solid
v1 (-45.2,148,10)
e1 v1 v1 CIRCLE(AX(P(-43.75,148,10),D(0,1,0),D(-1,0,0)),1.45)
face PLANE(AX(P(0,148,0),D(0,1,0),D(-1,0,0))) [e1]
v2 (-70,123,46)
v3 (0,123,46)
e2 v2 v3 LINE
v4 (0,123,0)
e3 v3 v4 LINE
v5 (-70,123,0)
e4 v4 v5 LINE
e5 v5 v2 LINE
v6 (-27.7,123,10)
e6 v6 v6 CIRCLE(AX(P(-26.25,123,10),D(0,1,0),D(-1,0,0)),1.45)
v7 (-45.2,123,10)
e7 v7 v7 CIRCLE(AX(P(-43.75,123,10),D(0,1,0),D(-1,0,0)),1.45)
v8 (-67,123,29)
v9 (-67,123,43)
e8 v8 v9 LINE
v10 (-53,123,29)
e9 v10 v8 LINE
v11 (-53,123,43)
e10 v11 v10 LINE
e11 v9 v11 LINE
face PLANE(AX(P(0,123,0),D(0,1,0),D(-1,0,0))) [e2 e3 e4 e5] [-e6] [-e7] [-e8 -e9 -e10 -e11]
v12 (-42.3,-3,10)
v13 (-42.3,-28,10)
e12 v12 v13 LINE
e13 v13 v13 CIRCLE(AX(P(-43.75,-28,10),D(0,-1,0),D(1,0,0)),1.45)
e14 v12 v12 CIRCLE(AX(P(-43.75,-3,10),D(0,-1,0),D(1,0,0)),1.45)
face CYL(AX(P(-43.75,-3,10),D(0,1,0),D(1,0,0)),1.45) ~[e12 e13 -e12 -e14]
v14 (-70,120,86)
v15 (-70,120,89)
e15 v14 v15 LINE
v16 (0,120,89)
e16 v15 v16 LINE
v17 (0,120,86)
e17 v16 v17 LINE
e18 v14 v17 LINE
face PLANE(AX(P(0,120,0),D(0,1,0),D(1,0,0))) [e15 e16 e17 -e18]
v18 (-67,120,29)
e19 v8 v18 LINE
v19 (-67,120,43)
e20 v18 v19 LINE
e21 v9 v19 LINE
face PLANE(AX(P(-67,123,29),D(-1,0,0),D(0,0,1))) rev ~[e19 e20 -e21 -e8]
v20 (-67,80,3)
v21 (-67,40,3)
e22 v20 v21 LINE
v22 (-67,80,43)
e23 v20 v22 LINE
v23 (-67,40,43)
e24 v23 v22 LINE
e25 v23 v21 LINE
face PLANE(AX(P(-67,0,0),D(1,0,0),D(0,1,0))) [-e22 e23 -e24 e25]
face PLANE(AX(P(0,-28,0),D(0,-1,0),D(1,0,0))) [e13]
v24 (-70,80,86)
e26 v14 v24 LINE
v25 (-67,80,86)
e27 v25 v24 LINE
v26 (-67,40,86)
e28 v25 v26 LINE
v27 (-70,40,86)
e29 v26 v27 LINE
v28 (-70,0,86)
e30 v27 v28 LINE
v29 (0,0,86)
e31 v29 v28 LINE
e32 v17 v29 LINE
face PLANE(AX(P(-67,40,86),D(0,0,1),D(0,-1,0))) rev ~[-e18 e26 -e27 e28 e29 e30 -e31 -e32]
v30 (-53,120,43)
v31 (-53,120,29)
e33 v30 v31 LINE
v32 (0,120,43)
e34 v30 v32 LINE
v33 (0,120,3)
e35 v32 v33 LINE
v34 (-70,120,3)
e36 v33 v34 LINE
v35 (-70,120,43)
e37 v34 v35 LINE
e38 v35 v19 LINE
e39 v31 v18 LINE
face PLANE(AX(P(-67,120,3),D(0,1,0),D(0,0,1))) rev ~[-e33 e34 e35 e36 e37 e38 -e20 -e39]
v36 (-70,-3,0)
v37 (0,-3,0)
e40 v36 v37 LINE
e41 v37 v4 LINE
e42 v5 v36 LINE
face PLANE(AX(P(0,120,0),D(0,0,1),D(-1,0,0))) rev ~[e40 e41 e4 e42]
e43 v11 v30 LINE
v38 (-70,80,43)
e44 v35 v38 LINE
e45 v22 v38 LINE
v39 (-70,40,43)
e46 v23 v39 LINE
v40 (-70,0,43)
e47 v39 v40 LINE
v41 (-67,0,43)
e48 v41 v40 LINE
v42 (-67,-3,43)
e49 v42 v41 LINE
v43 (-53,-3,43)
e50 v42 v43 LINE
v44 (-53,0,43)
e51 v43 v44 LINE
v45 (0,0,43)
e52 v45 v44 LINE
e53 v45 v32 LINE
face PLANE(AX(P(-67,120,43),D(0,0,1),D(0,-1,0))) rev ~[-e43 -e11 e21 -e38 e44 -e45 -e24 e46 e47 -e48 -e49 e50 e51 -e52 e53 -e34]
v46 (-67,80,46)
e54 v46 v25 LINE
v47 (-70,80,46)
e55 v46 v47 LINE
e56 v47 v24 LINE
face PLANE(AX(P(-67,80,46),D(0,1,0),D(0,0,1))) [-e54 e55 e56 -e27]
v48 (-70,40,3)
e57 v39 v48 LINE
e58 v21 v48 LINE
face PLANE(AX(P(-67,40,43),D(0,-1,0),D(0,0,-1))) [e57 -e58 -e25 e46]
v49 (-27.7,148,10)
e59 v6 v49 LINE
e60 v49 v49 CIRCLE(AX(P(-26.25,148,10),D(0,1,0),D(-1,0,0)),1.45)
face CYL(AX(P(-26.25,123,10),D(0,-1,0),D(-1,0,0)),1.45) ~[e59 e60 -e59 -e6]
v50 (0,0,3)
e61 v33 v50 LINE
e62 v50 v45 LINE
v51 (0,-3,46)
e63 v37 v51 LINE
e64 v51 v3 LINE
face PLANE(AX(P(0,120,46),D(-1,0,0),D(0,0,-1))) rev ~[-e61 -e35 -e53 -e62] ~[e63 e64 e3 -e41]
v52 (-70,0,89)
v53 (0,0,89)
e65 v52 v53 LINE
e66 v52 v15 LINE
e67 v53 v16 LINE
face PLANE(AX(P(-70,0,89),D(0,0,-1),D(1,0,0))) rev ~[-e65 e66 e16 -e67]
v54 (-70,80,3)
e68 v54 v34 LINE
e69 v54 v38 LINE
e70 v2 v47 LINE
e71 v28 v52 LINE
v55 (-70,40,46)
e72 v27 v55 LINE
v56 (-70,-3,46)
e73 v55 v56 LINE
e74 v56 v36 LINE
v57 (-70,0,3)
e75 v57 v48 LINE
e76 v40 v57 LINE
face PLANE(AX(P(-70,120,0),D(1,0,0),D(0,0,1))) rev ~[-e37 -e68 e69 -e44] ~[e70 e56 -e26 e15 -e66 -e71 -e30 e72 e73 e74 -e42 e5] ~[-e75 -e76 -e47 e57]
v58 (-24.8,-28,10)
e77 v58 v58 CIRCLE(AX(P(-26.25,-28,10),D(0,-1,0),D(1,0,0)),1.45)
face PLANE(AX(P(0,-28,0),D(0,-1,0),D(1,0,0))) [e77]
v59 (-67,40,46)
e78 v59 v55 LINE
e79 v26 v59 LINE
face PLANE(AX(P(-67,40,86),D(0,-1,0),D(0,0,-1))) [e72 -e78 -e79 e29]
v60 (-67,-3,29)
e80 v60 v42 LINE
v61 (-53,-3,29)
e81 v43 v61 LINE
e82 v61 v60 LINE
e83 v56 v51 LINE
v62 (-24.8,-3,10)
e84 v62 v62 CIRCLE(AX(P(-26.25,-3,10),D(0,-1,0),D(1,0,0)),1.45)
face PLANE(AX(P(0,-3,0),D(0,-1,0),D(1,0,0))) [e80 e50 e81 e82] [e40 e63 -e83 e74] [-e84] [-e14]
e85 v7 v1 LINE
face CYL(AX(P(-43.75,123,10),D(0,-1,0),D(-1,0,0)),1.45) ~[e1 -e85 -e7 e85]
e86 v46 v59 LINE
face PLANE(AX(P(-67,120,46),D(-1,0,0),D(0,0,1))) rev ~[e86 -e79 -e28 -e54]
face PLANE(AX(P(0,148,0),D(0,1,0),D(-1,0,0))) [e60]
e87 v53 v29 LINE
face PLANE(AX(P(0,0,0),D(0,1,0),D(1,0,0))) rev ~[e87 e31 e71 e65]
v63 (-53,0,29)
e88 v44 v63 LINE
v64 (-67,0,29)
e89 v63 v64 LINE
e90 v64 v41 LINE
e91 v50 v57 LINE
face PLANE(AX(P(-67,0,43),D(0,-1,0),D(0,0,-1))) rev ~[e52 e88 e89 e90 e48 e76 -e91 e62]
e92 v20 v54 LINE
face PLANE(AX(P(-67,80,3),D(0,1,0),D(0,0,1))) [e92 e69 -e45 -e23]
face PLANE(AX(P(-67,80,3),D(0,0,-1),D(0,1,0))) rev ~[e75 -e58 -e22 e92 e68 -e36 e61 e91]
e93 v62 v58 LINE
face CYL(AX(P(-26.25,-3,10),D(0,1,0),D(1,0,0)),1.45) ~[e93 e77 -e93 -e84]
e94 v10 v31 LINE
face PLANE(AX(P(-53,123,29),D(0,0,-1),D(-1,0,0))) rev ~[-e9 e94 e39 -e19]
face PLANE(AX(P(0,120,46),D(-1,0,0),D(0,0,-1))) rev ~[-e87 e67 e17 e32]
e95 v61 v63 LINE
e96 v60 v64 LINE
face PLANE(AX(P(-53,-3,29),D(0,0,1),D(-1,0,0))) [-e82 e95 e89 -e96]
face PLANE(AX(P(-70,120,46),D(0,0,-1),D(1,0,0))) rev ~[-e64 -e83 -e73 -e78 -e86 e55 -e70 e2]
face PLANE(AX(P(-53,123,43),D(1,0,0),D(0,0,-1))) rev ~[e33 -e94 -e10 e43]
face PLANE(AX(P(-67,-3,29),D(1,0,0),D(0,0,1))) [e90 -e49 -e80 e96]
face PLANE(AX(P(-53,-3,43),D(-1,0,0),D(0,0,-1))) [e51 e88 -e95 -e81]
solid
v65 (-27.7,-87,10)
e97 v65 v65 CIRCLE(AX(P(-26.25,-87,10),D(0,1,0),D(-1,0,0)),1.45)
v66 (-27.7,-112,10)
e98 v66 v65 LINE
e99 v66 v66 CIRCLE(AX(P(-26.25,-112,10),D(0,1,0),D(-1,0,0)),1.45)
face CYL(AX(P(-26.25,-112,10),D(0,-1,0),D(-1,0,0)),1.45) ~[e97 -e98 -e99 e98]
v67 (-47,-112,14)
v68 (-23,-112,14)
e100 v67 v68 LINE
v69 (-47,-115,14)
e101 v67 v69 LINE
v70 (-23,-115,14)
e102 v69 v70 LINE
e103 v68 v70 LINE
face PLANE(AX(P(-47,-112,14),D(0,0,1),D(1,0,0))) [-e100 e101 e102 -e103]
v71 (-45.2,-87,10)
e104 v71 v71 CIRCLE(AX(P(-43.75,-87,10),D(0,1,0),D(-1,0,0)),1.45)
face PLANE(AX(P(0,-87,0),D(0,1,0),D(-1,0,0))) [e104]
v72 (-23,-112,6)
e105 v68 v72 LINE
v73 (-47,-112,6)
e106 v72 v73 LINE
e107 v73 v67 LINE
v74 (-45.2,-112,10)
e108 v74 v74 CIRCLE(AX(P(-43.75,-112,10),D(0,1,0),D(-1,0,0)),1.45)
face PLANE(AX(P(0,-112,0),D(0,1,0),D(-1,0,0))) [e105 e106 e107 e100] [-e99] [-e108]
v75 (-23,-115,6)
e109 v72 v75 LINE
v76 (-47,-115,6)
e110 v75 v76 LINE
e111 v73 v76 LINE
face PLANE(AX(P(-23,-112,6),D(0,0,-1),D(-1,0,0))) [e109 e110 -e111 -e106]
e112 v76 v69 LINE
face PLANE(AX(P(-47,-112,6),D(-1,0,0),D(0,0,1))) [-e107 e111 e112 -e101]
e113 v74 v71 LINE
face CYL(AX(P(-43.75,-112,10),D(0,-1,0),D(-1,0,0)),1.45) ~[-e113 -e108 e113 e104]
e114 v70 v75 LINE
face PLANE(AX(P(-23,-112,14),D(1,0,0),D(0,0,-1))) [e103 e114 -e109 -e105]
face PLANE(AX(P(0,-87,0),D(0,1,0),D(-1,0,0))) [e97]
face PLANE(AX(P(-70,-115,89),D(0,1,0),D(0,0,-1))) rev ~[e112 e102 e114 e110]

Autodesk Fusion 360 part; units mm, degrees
sketch "Sketch1" plane through (0, 0, 0) normal (0, 1, 0) x (1, 0, 0) in component "Frame"
  line L0 (0, 0) -> (-70, 0)
  line L1 (-70, 0) -> (-70, -89)
  line L2 (-70, -89) -> (0, -89)
  line L3 (0, -89) -> (0, 0)
  dimension "d1" = 70
  dimension "d2" = 89
extrude "Extrude1" add sketch "Sketch1" along normal blind 120 makes body 1 in component "Frame"
sketch "Sketch2" plane through (0, 0, 0) normal (0, -1, 0) x (1, 0, 0) in component "Frame"
  line L0 (0, 0) -> (0, 89)
  line L1 (0, 89) -> (-70, 89)
  line L2 (-70, 89) -> (-70, 0)
  line L3 (-70, 0) -> (0, 0)
  line L4 (0, 0) -> (-70, 0)
  line L5 (-70, 0) -> (-70, 46)
  line L6 (-70, 46) -> (0, 46)
  line L7 (0, 46) -> (0, 0)
  dimension "d5" = 70
  dimension "d6" = 46
extrude "Extrude2" add sketch "Sketch2" along normal blind 3 contours L0 L2 L3 L4 L5 L6 L7 bodies 1 in component "Frame"
sketch "Sketch3" plane through (0, 120, 0) normal (0, 1, 0) x (-1, 0, 0) in component "Frame"
  line L0 (0, 89) -> (0, 0)
  line L1 (0, 0) -> (70, 0)
  line L2 (70, 0) -> (70, 89)
  line L3 (70, 89) -> (0, 89)
  line L4 (0, 0) -> (70, 0)
  line L5 (70, 0) -> (70, 46)
  line L6 (70, 46) -> (0, 46)
  line L7 (0, 46) -> (0, 0)
  dimension "d9" = 70
  dimension "d10" = 46
extrude "Extrude3" add sketch "Sketch3" along normal blind 3 contours L0 L1 L2 L4 L5 L6 L7 bodies 1 in component "Frame"
sketch "Sketch4" plane through (0, 120, 0) normal (0, 1, 0) x (-1, 0, 0) in component "Frame"
  line L0 (0, 46) -> (70, 46)
  line L1 (70, 46) -> (70, 89)
  line L2 (70, 89) -> (0, 89)
  line L3 (0, 89) -> (0, 46)
  line L4 (0, 46) -> (67, 46)
  line L5 (67, 46) -> (67, 86)
  line L6 (67, 86) -> (0, 86)
  line L7 (0, 86) -> (0, 46)
  dimension "d13" = 67
  dimension "d14" = 40
extrude "Extrude4" cut sketch "Sketch4" against normal up to surface (120 mm away) contours L0 L3 L4 L5 L6 L7 bodies 1 in component "Frame"
sketch "Sketch5" plane through (0, 0, 0) normal (1, 0, 0) x (0, 1, 0) in component "Frame"
  line L0 (123, 46) -> (-3, 46)
  line L1 (-3, 46) -> (-3, 0)
  line L2 (-3, 0) -> (123, 0)
  line L3 (123, 0) -> (123, 46)
  line L4 (120, 3) -> (0, 3)
  line L5 (0, 3) -> (0, 43)
  line L6 (0, 43) -> (120, 43)
  line L7 (120, 43) -> (120, 3)
  dimension "d17" = 120
extrude "Extrude5" cut sketch "Sketch5" against normal blind 67 contours L4 L5 L6 L7 bodies 1 in component "Frame"
sketch "Sketch6" plane through (-67, 0, 0) normal (1, 0, 0) x (0, 1, 0) in component "Frame"
  line L0 (120, 43) -> (0, 43)
  line L1 (0, 43) -> (0, 3)
  line L2 (0, 3) -> (120, 3)
  line L3 (120, 3) -> (120, 43)
  line L4 (0, 43) -> (40, 43)
  line L5 (40, 43) -> (40, 3)
  line L6 (40, 3) -> (0, 3)
  line L7 (0, 3) -> (0, 43)
  dimension "d20" = 40
  dimension "d21" = 40
extrude "Extrude6" cut sketch "Sketch6" against normal blind 3 contours L0 L1 L2 L4 L5 L6 L7 bodies 1 in component "Frame"
sketch "Sketch7" plane through (-67, 0, 0) normal (1, 0, 0) x (0, 1, 0) in component "Frame"
  line L0 (40, 43) -> (40, 3)
  line L1 (40, 3) -> (120, 3)
  line L2 (120, 3) -> (120, 43)
  line L3 (120, 43) -> (40, 43)
  line L4 (120, 3) -> (80, 3)
  line L5 (80, 3) -> (80, 43)
  line L6 (80, 43) -> (120, 43)
  line L7 (120, 43) -> (120, 3)
  dimension "d24" = 40
  dimension "d25" = 40
extrude "Extrude7" cut sketch "Sketch7" against normal blind 3 contours L1 L2 L3 L4 L5 L6 L7 bodies 1 in component "Frame"
sketch "Sketch8" plane through (-67, 0, 0) normal (1, 0, 0) x (0, 1, 0) in component "Frame"
  line L0 (0, 86) -> (0, 46)
  line L1 (0, 46) -> (120, 46)
  line L2 (120, 46) -> (120, 86)
  line L3 (120, 86) -> (0, 86)
  line L4 (0, 86) -> (40, 86)
  line L5 (40, 86) -> (40, 46)
  line L6 (40, 46) -> (0, 46)
  line L7 (0, 46) -> (0, 86)
  dimension "d28" = 40
  dimension "d29" = 40
extrude "Extrude8" cut sketch "Sketch8" against normal blind 3 contours L0 L1 L3 L4 L5 L6 L7 bodies 1 in component "Frame"
sketch "Sketch9" plane through (-67, 0, 0) normal (1, 0, 0) x (0, 1, 0) in component "Frame"
  line L0 (40, 86) -> (40, 46)
  line L1 (40, 46) -> (120, 46)
  line L2 (120, 46) -> (120, 86)
  line L3 (120, 86) -> (40, 86)
  line L4 (120, 46) -> (80, 46)
  line L5 (80, 46) -> (80, 86)
  line L6 (80, 86) -> (120, 86)
  line L7 (120, 86) -> (120, 46)
  dimension "d32" = 40
  dimension "d33" = 40
extrude "Extrude9" cut sketch "Sketch9" against normal blind 3 contours L1 L2 L3 L4 L5 L6 L7 bodies 1 in component "Frame"
sketch "Sketch10" plane through (0, -3, 0) normal (0, -1, 0) x (1, 0, 0) in component "Frame"
  line L0 (0, 46) -> (-70, 46)
  line L1 (-70, 46) -> (-70, 0)
  line L2 (-70, 0) -> (0, 0)
  line L3 (0, 0) -> (0, 46)
  line L4 (0, 0) -> (-26.25, 0) construction
  line L5 (-26.25, 0) -> (-26.25, 10) construction
  line L6 (-26.25, 10) -> (-43.75, 10) construction
  line L7 (-43.75, 10) -> (-43.75, 0) construction
  line L8 (-43.75, 0) -> (-70, 0) construction
  circle A0 centre (-43.75, 10) radius 1.45
  circle A1 centre (-26.25, 10) radius 1.45
  dimension "d36" = 26.25
  dimension "d37" = 10
  dimension "d38" = 17.5
  dimension "d39" = 2.9
  dimension "d40" = 2.9
extrude "Extrude10" add sketch "Sketch10" along normal blind 25 contours A0 | A1 bodies 1 in component "Frame"
sketch "Sketch11" plane through (0, -3, 0) normal (0, -1, 0) x (1, 0, 0) in component "Frame"
  circle A0 centre (-26.25, 10) radius 1.45
  circle A1 centre (-43.75, 10) radius 1.45
  line L0 (0, 46) -> (-70, 46)
  line L1 (-70, 46) -> (-70, 0)
  line L2 (-70, 0) -> (0, 0)
  line L3 (0, 0) -> (0, 46)
  line L4 (-70, 46) -> (-67, 46) construction
  line L5 (-67, 46) -> (-67, 43) construction
  line L6 (-67, 43) -> (-53, 43)
  line L7 (-53, 43) -> (-53, 29)
  line L8 (-53, 29) -> (-67, 29)
  line L9 (-67, 29) -> (-67, 43)
  dimension "d43" = 3
extrude "Extrude11" cut sketch "Sketch11" against normal blind 3 contours L6 L7 L8 L9 bodies 1 in component "Frame"
sketch "Sketch12" plane through (0, 123, 0) normal (0, 1, 0) x (-1, 0, 0) in component "Frame"
  line L0 (0, 46) -> (0, 0)
  line L1 (0, 0) -> (70, 0)
  line L2 (70, 0) -> (70, 46)
  line L3 (70, 46) -> (0, 46)
  line L4 (70, 46) -> (67, 46) construction
  line L5 (67, 46) -> (67, 43) construction
  line L6 (67, 43) -> (53, 43)
  line L7 (53, 43) -> (53, 29)
  line L8 (53, 29) -> (67, 29)
  line L9 (67, 29) -> (67, 43)
  dimension "d46" = 3
  dimension "d47" = 14
  dimension "d48" = 14
extrude "Extrude12" cut sketch "Sketch12" against normal blind 3 contours L6 L7 L8 L9 bodies 1 in component "Frame"
sketch "Sketch13" plane through (0, 123, 0) normal (0, 1, 0) x (-1, 0, 0) in component "Frame"
  line L0 (53, 43) -> (67, 43)
  line L1 (67, 43) -> (67, 29)
  line L2 (67, 29) -> (53, 29)
  line L3 (53, 29) -> (53, 43)
  line L4 (0, 46) -> (0, 0)
  line L5 (0, 0) -> (70, 0)
  line L6 (70, 0) -> (70, 46)
  line L7 (70, 46) -> (0, 46)
  line L8 (70, 0) -> (43.75, 0) construction
  line L9 (43.75, 0) -> (43.75, 10) construction
  line L10 (43.75, 10) -> (26.25, 10) construction
  line L11 (26.25, 10) -> (26.25, 0) construction
  line L12 (0, 0) -> (26.25, 0) construction
  circle A0 centre (26.25, 10) radius 1.45
  circle A1 centre (43.75, 10) radius 1.45
  dimension "d51" = 26.25
  dimension "d52" = 10
  dimension "d53" = 17.5
  dimension "d54" = 2.9
  dimension "d55" = 2.9
extrude "Extrude13" add sketch "Sketch13" along normal blind 25 contours A0 | A1 bodies 1 in component "Frame"
sketch "Sketch1 (2)" plane through (0, 0, 0) normal (0, 1, 0) x (1, 0, 0) in component "Frame partial"
  line L0 (0, 0) -> (-70, 0)
  line L1 (-70, 0) -> (-70, -89)
  line L2 (-70, -89) -> (0, -89)
  line L3 (0, -89) -> (0, 0)
  dimension "d1_1" = 70
  dimension "d2_1" = 89
extrude "Extrude1'" add sketch "Sketch1 (2)" along normal blind 120 separate body makes body 2 in component "Frame partial"
sketch "Sketch2 (2)" plane through (0, 0, 0) normal (0, -1, 0) x (1, 0, 0) in component "Frame partial"
  line L0 (0, 0) -> (0, 89)
  line L1 (0, 89) -> (-70, 89)
  line L2 (-70, 89) -> (-70, 0)
  line L3 (-70, 0) -> (0, 0)
  line L4 (0, 0) -> (-70, 0)
  line L5 (-70, 0) -> (-70, 46)
  line L6 (-70, 46) -> (0, 46)
  line L7 (0, 46) -> (0, 0)
  dimension "d5_1" = 70
  dimension "d6_1" = 46
extrude "Extrude2'" add sketch "Sketch2 (2)" along normal blind 3 contours L0 L2 L3 L4 L5 L6 L7 bodies 2 in component "Frame partial"
sketch "Sketch3 (2)" plane through (0, 120, 0) normal (0, 1, 0) x (-1, 0, 0) in component "Frame partial"
  line L0 (0, 89) -> (0, 0)
  line L1 (0, 0) -> (70, 0)
  line L2 (70, 0) -> (70, 89)
  line L3 (70, 89) -> (0, 89)
  line L4 (0, 0) -> (70, 0)
  line L5 (70, 0) -> (70, 46)
  line L6 (70, 46) -> (0, 46)
  line L7 (0, 46) -> (0, 0)
  dimension "d9_1" = 70
  dimension "d10_1" = 46
extrude "Extrude3'" add sketch "Sketch3 (2)" along normal blind 3 contours L0 L1 L2 L4 L5 L6 L7 bodies 2 in component "Frame partial"
sketch "Sketch4 (2)" plane through (0, 120, 0) normal (0, 1, 0) x (-1, 0, 0) in component "Frame partial"
  line L0 (0, 46) -> (70, 46)
  line L1 (70, 46) -> (70, 89)
  line L2 (70, 89) -> (0, 89)
  line L3 (0, 89) -> (0, 46)
  line L4 (0, 46) -> (67, 46)
  line L5 (67, 46) -> (67, 86)
  line L6 (67, 86) -> (0, 86)
  line L7 (0, 86) -> (0, 46)
  dimension "d13_1" = 67
  dimension "d14_1" = 40
extrude "Extrude4'" cut sketch "Sketch4 (2)" against normal up to surface (120 mm away) contours L0 L3 L4 L5 L6 L7 bodies 2 in component "Frame partial"
sketch "Sketch5 (2)" plane through (0, 0, 0) normal (1, 0, 0) x (0, 1, 0) in component "Frame partial"
  line L0 (123, 46) -> (-3, 46)
  line L1 (-3, 46) -> (-3, 0)
  line L2 (-3, 0) -> (123, 0)
  line L3 (123, 0) -> (123, 46)
  line L4 (120, 3) -> (0, 3)
  line L5 (0, 3) -> (0, 43)
  line L6 (0, 43) -> (120, 43)
  line L7 (120, 43) -> (120, 3)
  dimension "d17_1" = 120
extrude "Extrude5'" cut sketch "Sketch5 (2)" against normal blind 67 contours L4 L5 L6 L7 bodies 2 in component "Frame partial"
sketch "Sketch6 (2)" plane through (-67, 0, 0) normal (1, 0, 0) x (0, 1, 0) in component "Frame partial"
  line L0 (120, 43) -> (0, 43)
  line L1 (0, 43) -> (0, 3)
  line L2 (0, 3) -> (120, 3)
  line L3 (120, 3) -> (120, 43)
  line L4 (0, 43) -> (40, 43)
  line L5 (40, 43) -> (40, 3)
  line L6 (40, 3) -> (0, 3)
  line L7 (0, 3) -> (0, 43)
  dimension "d20_1" = 40
  dimension "d21_1" = 40
extrude "Extrude6'" cut sketch "Sketch6 (2)" against normal blind 3 contours L0 L1 L2 L4 L5 L6 L7 bodies 2 in component "Frame partial"
sketch "Sketch7 (2)" plane through (-67, 0, 0) normal (1, 0, 0) x (0, 1, 0) in component "Frame partial"
  line L0 (40, 43) -> (40, 3)
  line L1 (40, 3) -> (120, 3)
  line L2 (120, 3) -> (120, 43)
  line L3 (120, 43) -> (40, 43)
  line L4 (120, 3) -> (80, 3)
  line L5 (80, 3) -> (80, 43)
  line L6 (80, 43) -> (120, 43)
  line L7 (120, 43) -> (120, 3)
  dimension "d24_1" = 40
  dimension "d25_1" = 40
extrude "Extrude7'" cut sketch "Sketch7 (2)" against normal blind 3 contours L1 L2 L3 L4 L5 L6 L7 bodies 2 in component "Frame partial"
sketch "Sketch8 (2)" plane through (-67, 0, 0) normal (1, 0, 0) x (0, 1, 0) in component "Frame partial"
  line L0 (0, 86) -> (0, 46)
  line L1 (0, 46) -> (120, 46)
  line L2 (120, 46) -> (120, 86)
  line L3 (120, 86) -> (0, 86)
  line L4 (0, 86) -> (40, 86)
  line L5 (40, 86) -> (40, 46)
  line L6 (40, 46) -> (0, 46)
  line L7 (0, 46) -> (0, 86)
  dimension "d28_1" = 40
  dimension "d29_1" = 40
extrude "Extrude8'" cut sketch "Sketch8 (2)" against normal blind 3 contours L0 L1 L3 L4 L5 L6 L7 bodies 2 in component "Frame partial"
sketch "Sketch9 (2)" plane through (-67, 0, 0) normal (1, 0, 0) x (0, 1, 0) in component "Frame partial"
  line L0 (40, 86) -> (40, 46)
  line L1 (40, 46) -> (120, 46)
  line L2 (120, 46) -> (120, 86)
  line L3 (120, 86) -> (40, 86)
  line L4 (120, 46) -> (80, 46)
  line L5 (80, 46) -> (80, 86)
  line L6 (80, 86) -> (120, 86)
  line L7 (120, 86) -> (120, 46)
  dimension "d32_1" = 40
  dimension "d33_1" = 40
extrude "Extrude9'" cut sketch "Sketch9 (2)" against normal blind 3 contours L1 L2 L3 L4 L5 L6 L7 bodies 2 in component "Frame partial"
sketch "Sketch10 (2)" plane through (0, -3, 0) normal (0, -1, 0) x (1, 0, 0) in component "Frame partial"
  line L0 (0, 46) -> (-70, 46)
  line L1 (-70, 46) -> (-70, 0)
  line L2 (-70, 0) -> (0, 0)
  line L3 (0, 0) -> (0, 46)
  line L4 (0, 0) -> (-26.25, 0) construction
  line L5 (-26.25, 0) -> (-26.25, 10) construction
  line L6 (-26.25, 10) -> (-43.75, 10) construction
  line L7 (-43.75, 10) -> (-43.75, 0) construction
  line L8 (-43.75, 0) -> (-70, 0) construction
  circle A0 centre (-43.75, 10) radius 1.45
  circle A1 centre (-26.25, 10) radius 1.45
  dimension "d36_1" = 26.25
  dimension "d37_1" = 10
  dimension "d38_1" = 17.5
  dimension "d39_1" = 2.9
  dimension "d40_1" = 2.9
extrude "Extrude10'" add sketch "Sketch10 (2)" along normal blind 25 contours A0 | A1 bodies 2 in component "Frame partial"
sketch "Sketch11 (2)" plane through (0, -3, 0) normal (0, -1, 0) x (1, 0, 0) in component "Frame partial"
  circle A0 centre (-26.25, 10) radius 1.45
  circle A1 centre (-43.75, 10) radius 1.45
  line L0 (0, 46) -> (-70, 46)
  line L1 (-70, 46) -> (-70, 0)
  line L2 (-70, 0) -> (0, 0)
  line L3 (0, 0) -> (0, 46)
  line L4 (-70, 46) -> (-67, 46) construction
  line L5 (-67, 46) -> (-67, 43) construction
  line L6 (-67, 43) -> (-53, 43)
  line L7 (-53, 43) -> (-53, 29)
  line L8 (-53, 29) -> (-67, 29)
  line L9 (-67, 29) -> (-67, 43)
  dimension "d43_1" = 3
extrude "Extrude11'" cut sketch "Sketch11 (2)" against normal blind 3 contours L6 L7 L8 L9 bodies 2 in component "Frame partial"
sketch "Sketch12 (2)" plane through (0, 123, 0) normal (0, 1, 0) x (-1, 0, 0) in component "Frame partial"
  line L0 (0, 46) -> (0, 0)
  line L1 (0, 0) -> (70, 0)
  line L2 (70, 0) -> (70, 46)
  line L3 (70, 46) -> (0, 46)
  line L4 (70, 46) -> (67, 46) construction
  line L5 (67, 46) -> (67, 43) construction
  line L6 (67, 43) -> (53, 43)
  line L7 (53, 43) -> (53, 29)
  line L8 (53, 29) -> (67, 29)
  line L9 (67, 29) -> (67, 43)
  dimension "d46_1" = 3
  dimension "d47_1" = 14
  dimension "d48_1" = 14
extrude "Extrude12'" cut sketch "Sketch12 (2)" against normal blind 3 contours L6 L7 L8 L9 bodies 2 in component "Frame partial"
sketch "Sketch13 (2)" plane through (0, 123, 0) normal (0, 1, 0) x (-1, 0, 0) in component "Frame partial"
  line L0 (53, 43) -> (67, 43)
  line L1 (67, 43) -> (67, 29)
  line L2 (67, 29) -> (53, 29)
  line L3 (53, 29) -> (53, 43)
  line L4 (0, 46) -> (0, 0)
  line L5 (0, 0) -> (70, 0)
  line L6 (70, 0) -> (70, 46)
  line L7 (70, 46) -> (0, 46)
  line L8 (70, 0) -> (43.75, 0) construction
  line L9 (43.75, 0) -> (43.75, 10) construction
  line L10 (43.75, 10) -> (26.25, 10) construction
  line L11 (26.25, 10) -> (26.25, 0) construction
  line L12 (0, 0) -> (26.25, 0) construction
  circle A0 centre (26.25, 10) radius 1.45
  circle A1 centre (43.75, 10) radius 1.45
  dimension "d51_1" = 26.25
  dimension "d52_1" = 10
  dimension "d53_1" = 17.5
  dimension "d54_1" = 2.9
  dimension "d55_1" = 2.9
extrude "Extrude13'" add sketch "Sketch13 (2)" along normal blind 25 contours A0 | A1 bodies 2 in component "Frame partial"
sketch "Sketch14" plane through (-70, 0, 0) normal (-1, 0, 0) x (0, -1, 0) in component "Frame"
  line L0 (155, 46) -> (112, 46)
  line L1 (112, 46) -> (112, 0)
  line L2 (112, 0) -> (238, 0)
  line L3 (238, 0) -> (238, 46)
  line L4 (238, 46) -> (195, 46)
  line L5 (195, 46) -> (195, 86)
  line L6 (195, 86) -> (235, 86)
  line L7 (235, 86) -> (235, 89)
  line L8 (235, 89) -> (115, 89)
  line L9 (115, 89) -> (115, 86)
  line L10 (115, 86) -> (155, 86)
  line L11 (155, 86) -> (155, 46)
  line L12 (155, 43) -> (155, 3)
  line L13 (155, 3) -> (115, 3)
  line L14 (115, 3) -> (115, 43)
  line L15 (115, 43) -> (155, 43)
  line L16 (195, 3) -> (195, 43)
  line L17 (195, 43) -> (235, 43)
  line L18 (235, 43) -> (235, 3)
  line L19 (235, 3) -> (195, 3)
  line L20 (115, 0) -> (271.3047, 0)
  line L21 (271.3047, 0) -> (271.3047, 99.153)
  line L22 (271.3047, 99.153) -> (115, 99.153)
  line L23 (115, 99.153) -> (115, 0)
extrude "Extrude14" cut sketch "Sketch14" against normal blind 70 contours L0 L2 L3 L4 L5 L6 L7 L8 L9 L10 L11 L12 L13 L15 L20 L23 | L0 L10 L11 L23 | L12 L13 L14 L15 L23 | L3 L4 L5 L6 L7 L8 L20 L21 L22 L23 | L16 L17 L18 L19 sketch seen with x (1, 0, 0) y (0, 1, 0) z (0, 0, 1) at (0, 235, 0) bodies 2 in component "Frame partial"
sketch "Sketch14 (2)" plane through (0, 123, 0) normal (0, 1, 0) x (-1, 0, 0) in component "Frame partial"
  circle A0 centre (43.75, 10) radius 1.45
  circle A1 centre (26.25, 10) radius 1.45
  line L0 (53, 43) -> (67, 43)
  line L1 (67, 43) -> (67, 29)
  line L2 (67, 29) -> (53, 29)
  line L3 (53, 29) -> (53, 43)
  line L4 (0, 46) -> (0, 0)
  line L5 (0, 0) -> (70, 0)
  line L6 (70, 0) -> (70, 46)
  line L7 (70, 46) -> (0, 46)
  line L8 (23, 6) -> (47, 6)
  line L9 (47, 6) -> (47, 14)
  line L10 (47, 14) -> (23, 14)
  line L11 (23, 14) -> (23, 6)
extrude "Extrude15" cut sketch "Sketch14 (2)" against normal blind 3 contours L4 L5 L6 L7 bodies 2 in component "Frame partial"
component "Frame" placed x (1, 0, 0) y (0, 1, 0) z (0, 0, 1) at (0, 0, 0)
component "Frame partial" placed x (1, 0, 0) y (0, 1, 0) z (0, 0, 1) at (0, -235, 0)
